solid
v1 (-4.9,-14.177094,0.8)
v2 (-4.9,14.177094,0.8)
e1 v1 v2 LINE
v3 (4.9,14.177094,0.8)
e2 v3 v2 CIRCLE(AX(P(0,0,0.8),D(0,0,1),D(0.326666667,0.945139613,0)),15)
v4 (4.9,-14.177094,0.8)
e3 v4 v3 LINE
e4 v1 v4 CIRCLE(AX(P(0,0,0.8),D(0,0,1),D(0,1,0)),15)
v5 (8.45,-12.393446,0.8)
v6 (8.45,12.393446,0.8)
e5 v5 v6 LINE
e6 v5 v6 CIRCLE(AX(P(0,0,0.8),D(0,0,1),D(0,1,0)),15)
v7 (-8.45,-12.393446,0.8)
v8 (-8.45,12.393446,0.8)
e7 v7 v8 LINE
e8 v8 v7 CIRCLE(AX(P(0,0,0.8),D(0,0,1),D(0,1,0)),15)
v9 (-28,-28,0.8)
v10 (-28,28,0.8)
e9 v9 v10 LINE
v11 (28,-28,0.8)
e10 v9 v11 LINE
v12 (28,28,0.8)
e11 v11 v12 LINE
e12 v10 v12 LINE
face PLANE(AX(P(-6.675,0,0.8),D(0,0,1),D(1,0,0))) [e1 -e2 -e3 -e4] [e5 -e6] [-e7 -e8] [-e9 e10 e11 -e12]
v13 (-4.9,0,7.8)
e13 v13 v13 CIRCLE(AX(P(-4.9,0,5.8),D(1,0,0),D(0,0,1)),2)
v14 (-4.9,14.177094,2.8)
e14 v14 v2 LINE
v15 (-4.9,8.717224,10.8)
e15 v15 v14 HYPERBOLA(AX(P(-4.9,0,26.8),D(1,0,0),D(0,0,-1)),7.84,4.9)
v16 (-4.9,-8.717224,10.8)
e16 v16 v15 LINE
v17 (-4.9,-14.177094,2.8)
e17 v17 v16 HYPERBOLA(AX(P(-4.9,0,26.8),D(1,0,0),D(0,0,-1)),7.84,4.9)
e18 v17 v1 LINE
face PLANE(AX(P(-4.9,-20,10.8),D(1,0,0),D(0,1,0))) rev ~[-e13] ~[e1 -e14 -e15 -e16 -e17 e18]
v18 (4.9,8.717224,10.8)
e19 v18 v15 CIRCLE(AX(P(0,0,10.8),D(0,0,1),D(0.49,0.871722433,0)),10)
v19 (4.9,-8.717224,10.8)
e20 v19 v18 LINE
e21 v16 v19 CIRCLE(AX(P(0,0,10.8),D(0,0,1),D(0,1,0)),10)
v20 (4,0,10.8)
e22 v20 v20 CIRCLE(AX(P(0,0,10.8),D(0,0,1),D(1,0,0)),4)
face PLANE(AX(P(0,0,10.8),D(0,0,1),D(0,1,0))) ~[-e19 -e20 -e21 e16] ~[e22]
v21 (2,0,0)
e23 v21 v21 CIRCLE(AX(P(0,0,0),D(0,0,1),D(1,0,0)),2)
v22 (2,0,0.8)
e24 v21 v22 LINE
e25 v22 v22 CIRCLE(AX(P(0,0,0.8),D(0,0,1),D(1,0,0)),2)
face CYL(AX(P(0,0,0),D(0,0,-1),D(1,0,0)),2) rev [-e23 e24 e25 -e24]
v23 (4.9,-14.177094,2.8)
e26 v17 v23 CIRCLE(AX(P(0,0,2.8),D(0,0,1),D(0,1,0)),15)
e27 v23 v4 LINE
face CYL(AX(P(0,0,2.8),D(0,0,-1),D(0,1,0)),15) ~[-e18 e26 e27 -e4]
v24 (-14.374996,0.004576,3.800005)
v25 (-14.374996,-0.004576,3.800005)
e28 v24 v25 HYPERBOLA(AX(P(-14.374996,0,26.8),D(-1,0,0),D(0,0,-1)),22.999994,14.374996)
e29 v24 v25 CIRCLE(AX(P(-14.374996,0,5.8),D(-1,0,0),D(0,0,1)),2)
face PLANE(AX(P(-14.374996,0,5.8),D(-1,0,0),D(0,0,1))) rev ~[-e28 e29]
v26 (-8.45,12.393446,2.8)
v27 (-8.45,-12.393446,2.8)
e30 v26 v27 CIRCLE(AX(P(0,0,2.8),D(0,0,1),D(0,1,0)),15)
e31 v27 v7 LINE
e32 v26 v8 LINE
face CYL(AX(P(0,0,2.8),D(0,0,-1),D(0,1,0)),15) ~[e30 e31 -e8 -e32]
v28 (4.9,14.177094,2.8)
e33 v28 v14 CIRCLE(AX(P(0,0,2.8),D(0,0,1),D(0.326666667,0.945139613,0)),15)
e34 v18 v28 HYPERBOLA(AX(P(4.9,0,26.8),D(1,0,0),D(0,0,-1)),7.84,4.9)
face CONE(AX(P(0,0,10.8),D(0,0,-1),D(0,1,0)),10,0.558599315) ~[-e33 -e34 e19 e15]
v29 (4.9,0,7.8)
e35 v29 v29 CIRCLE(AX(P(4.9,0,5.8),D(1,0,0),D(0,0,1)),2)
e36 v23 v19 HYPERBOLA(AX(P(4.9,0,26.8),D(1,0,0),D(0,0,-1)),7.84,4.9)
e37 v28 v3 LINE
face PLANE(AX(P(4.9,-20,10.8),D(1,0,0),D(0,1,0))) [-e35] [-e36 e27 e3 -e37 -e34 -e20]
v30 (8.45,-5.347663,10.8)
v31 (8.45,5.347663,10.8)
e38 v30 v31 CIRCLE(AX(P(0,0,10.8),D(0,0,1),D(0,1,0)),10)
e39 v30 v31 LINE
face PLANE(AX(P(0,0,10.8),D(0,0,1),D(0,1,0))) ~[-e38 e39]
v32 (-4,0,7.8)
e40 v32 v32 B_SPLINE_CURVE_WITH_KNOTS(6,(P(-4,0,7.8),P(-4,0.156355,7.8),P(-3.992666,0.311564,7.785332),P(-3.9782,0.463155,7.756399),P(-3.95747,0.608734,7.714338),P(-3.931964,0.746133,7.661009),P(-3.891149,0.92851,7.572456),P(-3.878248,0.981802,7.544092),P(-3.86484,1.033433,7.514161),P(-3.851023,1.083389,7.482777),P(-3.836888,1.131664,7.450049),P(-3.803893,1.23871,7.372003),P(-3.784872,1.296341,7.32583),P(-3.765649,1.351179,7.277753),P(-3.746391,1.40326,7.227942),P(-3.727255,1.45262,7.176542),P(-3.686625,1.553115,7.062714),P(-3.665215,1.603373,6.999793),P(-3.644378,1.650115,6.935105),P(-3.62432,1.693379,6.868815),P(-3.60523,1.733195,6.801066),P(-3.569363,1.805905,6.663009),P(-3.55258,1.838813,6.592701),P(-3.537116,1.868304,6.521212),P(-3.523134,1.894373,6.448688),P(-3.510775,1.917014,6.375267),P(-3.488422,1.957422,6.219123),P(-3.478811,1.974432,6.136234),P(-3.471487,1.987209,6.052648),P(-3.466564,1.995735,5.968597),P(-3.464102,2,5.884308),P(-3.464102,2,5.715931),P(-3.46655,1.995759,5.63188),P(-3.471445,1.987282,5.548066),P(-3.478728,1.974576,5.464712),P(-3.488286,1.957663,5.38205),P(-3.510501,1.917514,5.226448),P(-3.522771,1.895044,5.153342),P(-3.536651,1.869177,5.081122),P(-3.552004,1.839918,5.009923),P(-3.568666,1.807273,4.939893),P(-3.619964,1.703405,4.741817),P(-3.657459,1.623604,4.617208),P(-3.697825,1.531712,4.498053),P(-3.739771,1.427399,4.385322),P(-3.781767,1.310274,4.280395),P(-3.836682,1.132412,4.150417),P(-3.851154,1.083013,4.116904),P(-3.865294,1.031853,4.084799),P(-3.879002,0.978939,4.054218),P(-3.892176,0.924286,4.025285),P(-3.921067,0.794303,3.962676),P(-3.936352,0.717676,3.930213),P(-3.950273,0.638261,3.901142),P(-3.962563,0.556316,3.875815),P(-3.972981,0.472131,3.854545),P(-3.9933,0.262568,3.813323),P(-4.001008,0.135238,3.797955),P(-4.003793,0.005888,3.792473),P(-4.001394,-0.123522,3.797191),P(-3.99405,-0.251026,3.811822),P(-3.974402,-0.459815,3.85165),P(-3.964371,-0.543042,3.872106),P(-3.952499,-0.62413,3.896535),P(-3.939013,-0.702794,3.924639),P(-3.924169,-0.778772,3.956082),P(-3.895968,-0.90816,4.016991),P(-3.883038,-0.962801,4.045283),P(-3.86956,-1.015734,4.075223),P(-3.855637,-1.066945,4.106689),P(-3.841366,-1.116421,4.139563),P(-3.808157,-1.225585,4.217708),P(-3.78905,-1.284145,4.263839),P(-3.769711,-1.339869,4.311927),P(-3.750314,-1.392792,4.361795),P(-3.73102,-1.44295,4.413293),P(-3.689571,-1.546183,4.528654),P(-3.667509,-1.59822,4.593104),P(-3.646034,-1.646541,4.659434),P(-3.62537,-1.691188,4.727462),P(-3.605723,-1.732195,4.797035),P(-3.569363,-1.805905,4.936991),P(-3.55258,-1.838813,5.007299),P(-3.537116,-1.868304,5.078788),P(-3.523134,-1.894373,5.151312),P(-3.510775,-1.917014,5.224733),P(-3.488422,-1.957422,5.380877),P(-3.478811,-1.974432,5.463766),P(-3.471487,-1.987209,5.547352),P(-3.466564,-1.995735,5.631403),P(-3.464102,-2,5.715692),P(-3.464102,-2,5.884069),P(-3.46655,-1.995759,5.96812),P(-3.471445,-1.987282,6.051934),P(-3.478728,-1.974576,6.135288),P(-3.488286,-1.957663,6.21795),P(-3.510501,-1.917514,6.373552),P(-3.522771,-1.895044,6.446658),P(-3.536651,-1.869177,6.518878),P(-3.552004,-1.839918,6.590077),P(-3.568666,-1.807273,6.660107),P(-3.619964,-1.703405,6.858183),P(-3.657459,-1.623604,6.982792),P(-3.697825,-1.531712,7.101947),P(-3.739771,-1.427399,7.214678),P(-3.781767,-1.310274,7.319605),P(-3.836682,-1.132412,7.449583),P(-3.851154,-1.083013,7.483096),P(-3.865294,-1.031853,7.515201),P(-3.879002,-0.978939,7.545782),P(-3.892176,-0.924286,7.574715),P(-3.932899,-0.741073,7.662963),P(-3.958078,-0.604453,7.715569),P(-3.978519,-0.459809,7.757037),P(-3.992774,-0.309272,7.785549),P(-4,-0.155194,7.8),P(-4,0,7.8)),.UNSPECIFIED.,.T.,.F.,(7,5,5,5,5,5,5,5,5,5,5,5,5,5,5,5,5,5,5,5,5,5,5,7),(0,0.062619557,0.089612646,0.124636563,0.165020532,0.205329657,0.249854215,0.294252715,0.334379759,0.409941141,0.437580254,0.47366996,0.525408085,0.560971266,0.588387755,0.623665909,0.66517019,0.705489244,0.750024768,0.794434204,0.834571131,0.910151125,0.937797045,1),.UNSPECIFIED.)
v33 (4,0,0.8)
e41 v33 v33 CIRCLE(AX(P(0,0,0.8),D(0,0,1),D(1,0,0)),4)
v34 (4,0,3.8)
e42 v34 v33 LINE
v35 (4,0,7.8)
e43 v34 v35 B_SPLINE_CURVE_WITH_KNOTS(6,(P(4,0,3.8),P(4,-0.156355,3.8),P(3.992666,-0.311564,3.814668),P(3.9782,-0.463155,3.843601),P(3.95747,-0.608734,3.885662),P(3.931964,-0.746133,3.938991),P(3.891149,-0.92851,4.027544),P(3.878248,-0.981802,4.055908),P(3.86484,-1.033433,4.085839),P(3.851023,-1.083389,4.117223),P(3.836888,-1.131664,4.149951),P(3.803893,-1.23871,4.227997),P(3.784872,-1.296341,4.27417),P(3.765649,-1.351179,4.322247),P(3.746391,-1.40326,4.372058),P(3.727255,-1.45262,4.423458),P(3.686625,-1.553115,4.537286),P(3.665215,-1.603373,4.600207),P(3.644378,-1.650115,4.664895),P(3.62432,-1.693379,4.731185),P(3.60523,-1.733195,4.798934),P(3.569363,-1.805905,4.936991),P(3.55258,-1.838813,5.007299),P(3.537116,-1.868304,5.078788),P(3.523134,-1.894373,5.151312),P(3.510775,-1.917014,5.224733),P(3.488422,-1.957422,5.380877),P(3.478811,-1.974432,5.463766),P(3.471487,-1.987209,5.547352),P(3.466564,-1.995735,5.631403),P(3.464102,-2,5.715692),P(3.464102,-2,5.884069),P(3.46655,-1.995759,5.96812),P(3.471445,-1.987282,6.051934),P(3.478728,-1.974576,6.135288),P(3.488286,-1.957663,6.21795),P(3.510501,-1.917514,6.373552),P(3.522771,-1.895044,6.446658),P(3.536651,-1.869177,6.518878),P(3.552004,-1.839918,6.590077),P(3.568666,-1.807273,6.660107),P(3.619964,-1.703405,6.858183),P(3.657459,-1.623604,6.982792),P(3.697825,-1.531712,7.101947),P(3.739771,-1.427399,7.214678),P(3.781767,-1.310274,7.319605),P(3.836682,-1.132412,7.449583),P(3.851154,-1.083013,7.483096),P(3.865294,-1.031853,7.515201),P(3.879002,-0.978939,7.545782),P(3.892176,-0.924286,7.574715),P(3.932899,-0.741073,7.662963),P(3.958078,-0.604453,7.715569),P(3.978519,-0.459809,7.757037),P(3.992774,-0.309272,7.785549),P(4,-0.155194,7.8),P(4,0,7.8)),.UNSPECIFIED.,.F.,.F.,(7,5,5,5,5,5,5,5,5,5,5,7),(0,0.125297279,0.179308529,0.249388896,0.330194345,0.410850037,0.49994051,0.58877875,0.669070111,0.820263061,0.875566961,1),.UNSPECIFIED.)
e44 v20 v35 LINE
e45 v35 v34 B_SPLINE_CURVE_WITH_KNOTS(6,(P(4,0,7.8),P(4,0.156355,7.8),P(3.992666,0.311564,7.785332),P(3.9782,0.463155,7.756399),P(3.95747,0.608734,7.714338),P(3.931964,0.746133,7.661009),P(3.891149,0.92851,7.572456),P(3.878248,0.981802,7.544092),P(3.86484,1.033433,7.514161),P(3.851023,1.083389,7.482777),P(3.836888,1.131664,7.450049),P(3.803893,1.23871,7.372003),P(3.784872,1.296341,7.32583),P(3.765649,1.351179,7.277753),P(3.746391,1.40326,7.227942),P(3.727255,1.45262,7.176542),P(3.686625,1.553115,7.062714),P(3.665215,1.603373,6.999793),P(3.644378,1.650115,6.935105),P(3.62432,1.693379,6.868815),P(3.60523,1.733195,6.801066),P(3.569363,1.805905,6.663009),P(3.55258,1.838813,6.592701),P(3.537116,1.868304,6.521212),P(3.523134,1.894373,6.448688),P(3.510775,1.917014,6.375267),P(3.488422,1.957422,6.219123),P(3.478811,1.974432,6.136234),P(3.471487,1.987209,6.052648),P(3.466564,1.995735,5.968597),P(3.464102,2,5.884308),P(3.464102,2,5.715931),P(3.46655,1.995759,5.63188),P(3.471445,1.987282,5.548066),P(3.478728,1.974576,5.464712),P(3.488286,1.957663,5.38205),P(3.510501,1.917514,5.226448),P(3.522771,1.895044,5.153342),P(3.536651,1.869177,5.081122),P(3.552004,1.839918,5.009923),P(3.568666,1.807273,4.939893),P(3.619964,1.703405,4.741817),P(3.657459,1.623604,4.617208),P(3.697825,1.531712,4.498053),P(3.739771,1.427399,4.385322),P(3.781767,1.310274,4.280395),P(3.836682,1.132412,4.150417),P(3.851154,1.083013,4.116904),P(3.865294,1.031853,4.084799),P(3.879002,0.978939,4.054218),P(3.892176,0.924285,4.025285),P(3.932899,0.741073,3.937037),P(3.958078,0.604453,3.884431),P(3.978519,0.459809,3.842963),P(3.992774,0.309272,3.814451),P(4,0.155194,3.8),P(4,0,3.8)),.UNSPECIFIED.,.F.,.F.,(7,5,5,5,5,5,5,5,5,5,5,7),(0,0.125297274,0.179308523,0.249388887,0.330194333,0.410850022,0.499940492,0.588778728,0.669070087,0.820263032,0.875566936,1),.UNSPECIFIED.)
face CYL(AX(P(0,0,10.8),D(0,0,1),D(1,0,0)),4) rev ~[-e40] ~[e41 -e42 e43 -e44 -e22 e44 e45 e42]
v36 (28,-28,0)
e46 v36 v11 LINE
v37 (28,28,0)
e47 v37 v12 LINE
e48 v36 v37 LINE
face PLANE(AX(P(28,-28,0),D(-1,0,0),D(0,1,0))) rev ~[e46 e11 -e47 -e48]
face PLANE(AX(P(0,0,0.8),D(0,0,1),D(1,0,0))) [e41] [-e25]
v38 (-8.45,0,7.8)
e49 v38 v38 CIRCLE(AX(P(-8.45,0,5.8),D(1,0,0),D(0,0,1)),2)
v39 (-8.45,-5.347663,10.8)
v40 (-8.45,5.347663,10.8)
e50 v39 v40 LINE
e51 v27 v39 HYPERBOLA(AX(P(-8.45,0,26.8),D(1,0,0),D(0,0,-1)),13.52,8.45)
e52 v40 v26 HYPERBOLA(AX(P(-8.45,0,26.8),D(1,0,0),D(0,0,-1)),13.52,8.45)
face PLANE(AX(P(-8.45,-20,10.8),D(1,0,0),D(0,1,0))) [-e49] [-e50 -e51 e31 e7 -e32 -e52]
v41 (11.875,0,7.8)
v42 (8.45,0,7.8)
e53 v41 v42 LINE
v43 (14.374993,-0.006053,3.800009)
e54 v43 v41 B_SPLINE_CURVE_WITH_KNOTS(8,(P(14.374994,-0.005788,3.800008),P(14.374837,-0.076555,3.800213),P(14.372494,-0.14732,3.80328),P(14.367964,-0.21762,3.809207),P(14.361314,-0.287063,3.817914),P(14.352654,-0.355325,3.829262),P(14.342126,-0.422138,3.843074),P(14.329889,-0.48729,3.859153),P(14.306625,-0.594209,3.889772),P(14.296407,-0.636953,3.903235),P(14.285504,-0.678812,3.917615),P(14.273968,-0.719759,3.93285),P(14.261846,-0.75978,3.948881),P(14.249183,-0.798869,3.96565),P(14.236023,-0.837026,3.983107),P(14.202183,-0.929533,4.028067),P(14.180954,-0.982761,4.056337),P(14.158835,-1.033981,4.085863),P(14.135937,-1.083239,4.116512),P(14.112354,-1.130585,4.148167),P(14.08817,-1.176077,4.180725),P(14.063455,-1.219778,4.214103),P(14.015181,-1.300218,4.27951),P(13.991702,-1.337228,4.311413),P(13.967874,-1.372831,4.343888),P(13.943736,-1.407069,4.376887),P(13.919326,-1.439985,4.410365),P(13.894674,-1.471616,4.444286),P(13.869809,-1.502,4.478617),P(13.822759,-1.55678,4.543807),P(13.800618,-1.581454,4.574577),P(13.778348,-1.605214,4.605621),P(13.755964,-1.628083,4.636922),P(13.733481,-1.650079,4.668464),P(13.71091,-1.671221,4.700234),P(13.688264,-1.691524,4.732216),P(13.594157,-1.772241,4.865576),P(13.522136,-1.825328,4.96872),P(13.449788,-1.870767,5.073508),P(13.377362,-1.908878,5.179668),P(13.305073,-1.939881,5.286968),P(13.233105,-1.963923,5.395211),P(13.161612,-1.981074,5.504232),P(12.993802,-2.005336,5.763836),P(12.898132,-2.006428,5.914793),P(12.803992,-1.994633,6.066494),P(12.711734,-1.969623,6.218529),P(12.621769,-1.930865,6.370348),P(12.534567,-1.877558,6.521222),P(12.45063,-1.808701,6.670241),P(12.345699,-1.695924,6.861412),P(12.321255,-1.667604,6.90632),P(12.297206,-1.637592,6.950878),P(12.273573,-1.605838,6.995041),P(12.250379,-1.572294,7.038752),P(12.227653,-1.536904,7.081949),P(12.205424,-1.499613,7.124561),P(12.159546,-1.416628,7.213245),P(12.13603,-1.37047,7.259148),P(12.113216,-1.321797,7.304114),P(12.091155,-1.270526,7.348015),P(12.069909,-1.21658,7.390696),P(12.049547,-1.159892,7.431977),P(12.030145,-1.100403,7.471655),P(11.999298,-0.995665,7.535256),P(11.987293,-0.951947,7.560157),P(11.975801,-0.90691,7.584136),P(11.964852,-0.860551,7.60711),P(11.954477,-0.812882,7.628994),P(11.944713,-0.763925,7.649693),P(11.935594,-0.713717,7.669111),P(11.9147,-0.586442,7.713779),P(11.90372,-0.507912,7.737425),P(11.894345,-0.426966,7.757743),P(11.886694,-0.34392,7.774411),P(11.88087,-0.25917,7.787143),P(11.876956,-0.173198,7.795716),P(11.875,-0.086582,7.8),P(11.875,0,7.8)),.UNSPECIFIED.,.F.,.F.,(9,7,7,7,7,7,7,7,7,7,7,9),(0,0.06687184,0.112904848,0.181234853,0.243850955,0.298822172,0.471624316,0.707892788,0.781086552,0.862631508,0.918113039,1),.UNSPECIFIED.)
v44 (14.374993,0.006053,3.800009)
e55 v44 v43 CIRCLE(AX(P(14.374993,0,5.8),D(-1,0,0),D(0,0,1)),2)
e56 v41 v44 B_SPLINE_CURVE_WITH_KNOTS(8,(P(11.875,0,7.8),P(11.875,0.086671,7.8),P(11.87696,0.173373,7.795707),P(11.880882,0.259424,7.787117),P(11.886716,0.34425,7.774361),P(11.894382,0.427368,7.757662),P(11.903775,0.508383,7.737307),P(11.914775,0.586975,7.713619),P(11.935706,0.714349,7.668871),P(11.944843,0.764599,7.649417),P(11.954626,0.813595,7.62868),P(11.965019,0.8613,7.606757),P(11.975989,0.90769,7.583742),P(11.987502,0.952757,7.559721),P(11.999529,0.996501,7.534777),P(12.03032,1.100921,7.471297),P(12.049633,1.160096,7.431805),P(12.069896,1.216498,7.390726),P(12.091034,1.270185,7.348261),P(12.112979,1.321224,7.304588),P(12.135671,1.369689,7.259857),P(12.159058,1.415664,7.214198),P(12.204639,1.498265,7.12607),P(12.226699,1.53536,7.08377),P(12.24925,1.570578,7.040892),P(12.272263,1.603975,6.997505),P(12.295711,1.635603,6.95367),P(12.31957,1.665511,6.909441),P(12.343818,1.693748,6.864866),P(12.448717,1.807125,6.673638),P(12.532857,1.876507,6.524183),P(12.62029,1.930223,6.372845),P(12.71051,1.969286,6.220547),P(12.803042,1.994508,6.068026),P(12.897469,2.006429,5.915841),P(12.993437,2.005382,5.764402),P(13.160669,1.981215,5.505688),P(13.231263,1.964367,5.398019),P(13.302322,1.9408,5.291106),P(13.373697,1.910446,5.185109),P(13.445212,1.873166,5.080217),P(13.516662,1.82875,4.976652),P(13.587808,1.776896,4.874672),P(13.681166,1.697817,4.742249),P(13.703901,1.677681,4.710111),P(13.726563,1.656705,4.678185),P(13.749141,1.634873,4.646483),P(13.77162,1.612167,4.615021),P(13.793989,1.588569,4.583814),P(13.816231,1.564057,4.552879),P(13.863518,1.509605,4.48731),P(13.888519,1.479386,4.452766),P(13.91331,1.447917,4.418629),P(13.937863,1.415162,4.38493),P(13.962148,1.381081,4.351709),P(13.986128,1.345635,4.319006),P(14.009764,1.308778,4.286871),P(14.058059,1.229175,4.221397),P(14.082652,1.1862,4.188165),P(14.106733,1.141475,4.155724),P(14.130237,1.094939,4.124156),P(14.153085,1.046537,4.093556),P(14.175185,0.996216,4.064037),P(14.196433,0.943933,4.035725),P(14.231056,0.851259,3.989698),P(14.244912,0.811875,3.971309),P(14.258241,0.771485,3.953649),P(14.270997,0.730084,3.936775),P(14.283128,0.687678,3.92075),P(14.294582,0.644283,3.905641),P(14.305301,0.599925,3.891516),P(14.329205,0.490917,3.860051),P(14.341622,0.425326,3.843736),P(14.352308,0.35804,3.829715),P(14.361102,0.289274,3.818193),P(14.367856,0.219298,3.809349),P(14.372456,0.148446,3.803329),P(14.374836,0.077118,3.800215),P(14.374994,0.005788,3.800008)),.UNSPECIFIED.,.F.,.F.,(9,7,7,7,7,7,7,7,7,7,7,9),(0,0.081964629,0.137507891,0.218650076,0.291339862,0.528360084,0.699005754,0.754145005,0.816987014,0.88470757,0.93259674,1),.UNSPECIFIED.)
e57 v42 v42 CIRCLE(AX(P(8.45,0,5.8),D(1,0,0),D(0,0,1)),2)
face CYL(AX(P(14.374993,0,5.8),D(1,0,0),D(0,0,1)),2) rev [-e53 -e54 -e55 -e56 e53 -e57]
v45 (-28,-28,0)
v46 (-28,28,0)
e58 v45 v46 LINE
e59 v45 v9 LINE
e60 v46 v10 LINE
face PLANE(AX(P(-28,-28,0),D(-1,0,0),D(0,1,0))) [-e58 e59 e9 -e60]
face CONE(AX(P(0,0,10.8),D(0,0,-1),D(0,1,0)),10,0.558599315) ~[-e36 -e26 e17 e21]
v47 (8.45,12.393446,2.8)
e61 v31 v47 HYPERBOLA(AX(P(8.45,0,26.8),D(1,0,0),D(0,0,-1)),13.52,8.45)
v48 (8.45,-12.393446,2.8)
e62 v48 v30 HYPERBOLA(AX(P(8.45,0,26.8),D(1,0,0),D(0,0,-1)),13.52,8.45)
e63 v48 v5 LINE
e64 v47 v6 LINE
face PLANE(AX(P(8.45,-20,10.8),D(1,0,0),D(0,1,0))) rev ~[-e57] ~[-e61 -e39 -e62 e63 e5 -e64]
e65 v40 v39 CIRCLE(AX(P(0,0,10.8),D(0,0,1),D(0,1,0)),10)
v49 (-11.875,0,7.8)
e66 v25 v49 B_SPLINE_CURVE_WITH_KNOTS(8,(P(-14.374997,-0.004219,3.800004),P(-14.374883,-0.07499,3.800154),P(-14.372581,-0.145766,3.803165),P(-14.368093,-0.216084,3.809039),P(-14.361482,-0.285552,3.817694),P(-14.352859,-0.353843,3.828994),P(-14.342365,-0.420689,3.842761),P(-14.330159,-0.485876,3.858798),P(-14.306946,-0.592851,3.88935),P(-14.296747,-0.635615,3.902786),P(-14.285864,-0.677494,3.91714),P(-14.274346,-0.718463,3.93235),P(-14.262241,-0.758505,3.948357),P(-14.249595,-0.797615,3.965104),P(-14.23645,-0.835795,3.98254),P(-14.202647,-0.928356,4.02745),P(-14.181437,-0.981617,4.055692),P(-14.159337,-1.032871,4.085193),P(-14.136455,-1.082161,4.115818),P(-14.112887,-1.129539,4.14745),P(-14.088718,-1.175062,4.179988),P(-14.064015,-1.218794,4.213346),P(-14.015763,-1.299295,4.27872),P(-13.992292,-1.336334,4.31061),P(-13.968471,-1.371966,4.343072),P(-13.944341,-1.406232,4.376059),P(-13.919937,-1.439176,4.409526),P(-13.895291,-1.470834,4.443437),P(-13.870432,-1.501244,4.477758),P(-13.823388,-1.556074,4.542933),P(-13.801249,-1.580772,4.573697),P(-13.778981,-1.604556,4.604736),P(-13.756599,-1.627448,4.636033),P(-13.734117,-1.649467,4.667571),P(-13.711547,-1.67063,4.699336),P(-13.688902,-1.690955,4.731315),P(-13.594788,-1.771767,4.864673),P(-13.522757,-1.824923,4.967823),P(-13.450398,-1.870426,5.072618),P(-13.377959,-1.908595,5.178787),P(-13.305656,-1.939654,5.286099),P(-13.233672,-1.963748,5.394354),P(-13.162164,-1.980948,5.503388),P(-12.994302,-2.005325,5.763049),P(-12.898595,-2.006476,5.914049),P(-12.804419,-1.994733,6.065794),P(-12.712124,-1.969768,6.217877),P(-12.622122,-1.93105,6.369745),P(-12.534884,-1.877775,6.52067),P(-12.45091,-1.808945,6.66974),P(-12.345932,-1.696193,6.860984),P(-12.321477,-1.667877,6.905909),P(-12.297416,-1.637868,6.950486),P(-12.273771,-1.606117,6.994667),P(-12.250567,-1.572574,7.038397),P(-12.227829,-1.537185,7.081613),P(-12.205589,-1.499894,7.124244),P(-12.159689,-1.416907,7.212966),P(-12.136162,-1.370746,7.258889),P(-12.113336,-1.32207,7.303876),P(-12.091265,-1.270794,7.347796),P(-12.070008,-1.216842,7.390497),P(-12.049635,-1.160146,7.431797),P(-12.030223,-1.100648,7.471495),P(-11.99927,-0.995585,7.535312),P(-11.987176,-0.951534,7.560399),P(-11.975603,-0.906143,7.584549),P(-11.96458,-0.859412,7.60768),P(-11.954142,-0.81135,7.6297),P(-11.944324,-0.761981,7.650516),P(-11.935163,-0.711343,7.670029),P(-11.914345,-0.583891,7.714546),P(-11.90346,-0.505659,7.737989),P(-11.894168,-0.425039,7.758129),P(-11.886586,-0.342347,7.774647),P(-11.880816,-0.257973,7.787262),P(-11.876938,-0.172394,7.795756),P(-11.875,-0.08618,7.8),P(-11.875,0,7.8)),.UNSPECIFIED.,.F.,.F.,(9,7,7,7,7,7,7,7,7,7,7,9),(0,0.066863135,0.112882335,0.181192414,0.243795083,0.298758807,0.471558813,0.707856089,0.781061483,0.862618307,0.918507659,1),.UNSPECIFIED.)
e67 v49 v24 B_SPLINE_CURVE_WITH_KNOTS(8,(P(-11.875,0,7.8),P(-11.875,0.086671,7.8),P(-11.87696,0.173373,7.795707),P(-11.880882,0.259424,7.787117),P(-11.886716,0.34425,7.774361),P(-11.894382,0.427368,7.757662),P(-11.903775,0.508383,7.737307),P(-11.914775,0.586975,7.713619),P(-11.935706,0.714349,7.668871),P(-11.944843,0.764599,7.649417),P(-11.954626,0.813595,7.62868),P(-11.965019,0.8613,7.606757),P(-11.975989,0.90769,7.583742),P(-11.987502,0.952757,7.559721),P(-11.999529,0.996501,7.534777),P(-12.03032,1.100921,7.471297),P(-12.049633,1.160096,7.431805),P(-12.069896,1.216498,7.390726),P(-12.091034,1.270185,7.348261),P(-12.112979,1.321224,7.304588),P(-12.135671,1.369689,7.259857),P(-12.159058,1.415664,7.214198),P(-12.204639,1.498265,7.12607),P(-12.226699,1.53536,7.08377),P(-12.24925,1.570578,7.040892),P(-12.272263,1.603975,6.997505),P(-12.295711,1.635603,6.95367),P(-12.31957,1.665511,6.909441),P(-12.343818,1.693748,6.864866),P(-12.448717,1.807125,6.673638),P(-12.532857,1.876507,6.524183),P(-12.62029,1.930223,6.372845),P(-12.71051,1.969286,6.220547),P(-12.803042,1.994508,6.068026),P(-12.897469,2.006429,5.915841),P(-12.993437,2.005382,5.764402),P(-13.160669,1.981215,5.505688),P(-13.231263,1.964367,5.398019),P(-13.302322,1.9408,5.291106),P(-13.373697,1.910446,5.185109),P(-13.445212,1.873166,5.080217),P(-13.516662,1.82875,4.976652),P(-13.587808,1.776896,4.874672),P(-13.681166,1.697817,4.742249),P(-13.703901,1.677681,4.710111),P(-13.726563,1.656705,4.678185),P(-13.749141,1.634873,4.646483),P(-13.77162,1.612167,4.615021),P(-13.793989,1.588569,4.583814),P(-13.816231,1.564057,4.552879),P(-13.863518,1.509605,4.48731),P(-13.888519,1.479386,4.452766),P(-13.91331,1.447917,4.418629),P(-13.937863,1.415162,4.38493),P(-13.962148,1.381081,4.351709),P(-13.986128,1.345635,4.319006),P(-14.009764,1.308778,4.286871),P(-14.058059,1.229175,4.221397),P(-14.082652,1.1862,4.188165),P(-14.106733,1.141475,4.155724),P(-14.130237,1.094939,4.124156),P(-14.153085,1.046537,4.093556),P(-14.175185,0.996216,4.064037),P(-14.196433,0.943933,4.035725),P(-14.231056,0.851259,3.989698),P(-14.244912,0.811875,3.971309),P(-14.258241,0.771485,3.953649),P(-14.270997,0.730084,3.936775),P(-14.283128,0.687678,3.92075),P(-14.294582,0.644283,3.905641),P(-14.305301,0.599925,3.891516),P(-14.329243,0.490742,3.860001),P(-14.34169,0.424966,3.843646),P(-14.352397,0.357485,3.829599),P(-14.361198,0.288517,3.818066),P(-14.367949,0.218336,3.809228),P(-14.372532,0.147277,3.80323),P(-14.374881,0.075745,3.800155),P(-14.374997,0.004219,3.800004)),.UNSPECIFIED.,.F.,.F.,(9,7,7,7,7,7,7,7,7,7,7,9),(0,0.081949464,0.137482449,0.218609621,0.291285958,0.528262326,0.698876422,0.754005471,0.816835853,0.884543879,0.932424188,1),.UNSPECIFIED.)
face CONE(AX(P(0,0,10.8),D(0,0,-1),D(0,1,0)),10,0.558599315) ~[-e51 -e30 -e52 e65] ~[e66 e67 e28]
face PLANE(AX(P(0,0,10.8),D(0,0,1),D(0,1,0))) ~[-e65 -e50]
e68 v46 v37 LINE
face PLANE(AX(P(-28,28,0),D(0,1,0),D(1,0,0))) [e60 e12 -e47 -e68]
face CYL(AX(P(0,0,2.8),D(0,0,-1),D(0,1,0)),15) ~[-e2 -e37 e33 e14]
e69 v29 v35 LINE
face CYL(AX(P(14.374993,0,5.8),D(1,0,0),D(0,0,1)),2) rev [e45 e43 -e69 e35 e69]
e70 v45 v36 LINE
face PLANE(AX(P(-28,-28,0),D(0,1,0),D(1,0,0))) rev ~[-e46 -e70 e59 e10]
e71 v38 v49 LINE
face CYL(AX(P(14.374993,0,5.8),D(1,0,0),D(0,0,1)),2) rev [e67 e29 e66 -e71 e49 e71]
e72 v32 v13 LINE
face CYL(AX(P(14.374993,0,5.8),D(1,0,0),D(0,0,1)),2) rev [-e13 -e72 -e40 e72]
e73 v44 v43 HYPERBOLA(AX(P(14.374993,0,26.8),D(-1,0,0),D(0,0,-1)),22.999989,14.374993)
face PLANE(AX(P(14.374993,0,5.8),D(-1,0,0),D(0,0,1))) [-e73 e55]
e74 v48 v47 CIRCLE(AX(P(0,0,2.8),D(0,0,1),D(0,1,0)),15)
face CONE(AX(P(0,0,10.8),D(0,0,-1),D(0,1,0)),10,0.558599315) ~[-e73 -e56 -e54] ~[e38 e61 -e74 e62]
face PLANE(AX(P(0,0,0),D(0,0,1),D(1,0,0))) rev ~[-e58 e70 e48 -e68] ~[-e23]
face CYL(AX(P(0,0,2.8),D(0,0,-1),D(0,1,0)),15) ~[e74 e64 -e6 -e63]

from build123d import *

# Parameters (mm, degrees)
CROQUIS1_W              = 56
CROQUIS1_H              = 56
CROQUIS1_R              = 2
SALIENTE_EXTRUIR2_DEPTH = 0.8
CROQUIS4_R              = 4
CROQUIS4_W              = 3.55
CROQUIS4_H              = 40
CORTAR_EXTRUIR1_DEPTH   = 10
CORTAR_EXTRUIR2_START   = -42.374993
CROQUIS7_R              = 2
CORTAR_EXTRUIR2_DEPTH   = 28.749989
SALIENTE_EXTRUIR4_DEPTH = 10


with BuildPart() as part:
    # Croquis1 → Saliente-Extruir2 (new body)
    with BuildSketch(Plane.XY):
        Rectangle(CROQUIS1_W, CROQUIS1_H)
        Circle(CROQUIS1_R, mode=Mode.SUBTRACT)
    extrude(amount=SALIENTE_EXTRUIR2_DEPTH)

    # Croquis2 → Revolución1 (revolve)
    with BuildSketch(Plane(origin=(0, 0, 0), x_dir=(0, 0, -1), z_dir=(1, 0, 0))):
        Polygon((-0.8, 0), (-10.8, 0), (-10.8, 10), (-2.8, 15), (-0.8, 15), align=None)
    revolve(axis=Axis((0, 0, 0.8), (0, 0, 1)))

    # Croquis4 → Cortar-Extruir1 (cut)
    with BuildSketch(Plane.XY.offset(10.8)):
        Circle(CROQUIS4_R)
        with Locations((-6.675, 0)):
            Rectangle(CROQUIS4_W, CROQUIS4_H)
        with Locations((6.675, 0)):
            Rectangle(CROQUIS4_W, CROQUIS4_H)
    extrude(amount=-CORTAR_EXTRUIR1_DEPTH, mode=Mode.SUBTRACT)

    # Croquis7 → Cortar-Extruir2 (cut)
    with BuildSketch(Plane.ZY.offset(28).offset(CORTAR_EXTRUIR2_START)):
        with Locations((5.8, 0)):
            Circle(CROQUIS7_R)
    extrude(amount=CORTAR_EXTRUIR2_DEPTH, mode=Mode.SUBTRACT)

    # Croquis3 → Saliente-Extruir4 (add)
    with BuildSketch(Plane.XY.offset(0.8)):
        with BuildLine():
            Line((23, -28), (28, -28))
            Line((28, -28), (28, -23))
            ThreePointArc((28, -23), (31.535533906, -31.535533906), (23, -28))
        make_face()
    extrude(amount=SALIENTE_EXTRUIR4_DEPTH)


with BuildPart() as saliente_extruir4_kept_piece:
    # of the separate pieces the step leaves, the one the design keeps (saliente_extruir4_pieces_kept)
    add(part.part.solids().sort_by_distance((28, -28, 0))[0])


solid = saliente_extruir4_kept_piece.part
